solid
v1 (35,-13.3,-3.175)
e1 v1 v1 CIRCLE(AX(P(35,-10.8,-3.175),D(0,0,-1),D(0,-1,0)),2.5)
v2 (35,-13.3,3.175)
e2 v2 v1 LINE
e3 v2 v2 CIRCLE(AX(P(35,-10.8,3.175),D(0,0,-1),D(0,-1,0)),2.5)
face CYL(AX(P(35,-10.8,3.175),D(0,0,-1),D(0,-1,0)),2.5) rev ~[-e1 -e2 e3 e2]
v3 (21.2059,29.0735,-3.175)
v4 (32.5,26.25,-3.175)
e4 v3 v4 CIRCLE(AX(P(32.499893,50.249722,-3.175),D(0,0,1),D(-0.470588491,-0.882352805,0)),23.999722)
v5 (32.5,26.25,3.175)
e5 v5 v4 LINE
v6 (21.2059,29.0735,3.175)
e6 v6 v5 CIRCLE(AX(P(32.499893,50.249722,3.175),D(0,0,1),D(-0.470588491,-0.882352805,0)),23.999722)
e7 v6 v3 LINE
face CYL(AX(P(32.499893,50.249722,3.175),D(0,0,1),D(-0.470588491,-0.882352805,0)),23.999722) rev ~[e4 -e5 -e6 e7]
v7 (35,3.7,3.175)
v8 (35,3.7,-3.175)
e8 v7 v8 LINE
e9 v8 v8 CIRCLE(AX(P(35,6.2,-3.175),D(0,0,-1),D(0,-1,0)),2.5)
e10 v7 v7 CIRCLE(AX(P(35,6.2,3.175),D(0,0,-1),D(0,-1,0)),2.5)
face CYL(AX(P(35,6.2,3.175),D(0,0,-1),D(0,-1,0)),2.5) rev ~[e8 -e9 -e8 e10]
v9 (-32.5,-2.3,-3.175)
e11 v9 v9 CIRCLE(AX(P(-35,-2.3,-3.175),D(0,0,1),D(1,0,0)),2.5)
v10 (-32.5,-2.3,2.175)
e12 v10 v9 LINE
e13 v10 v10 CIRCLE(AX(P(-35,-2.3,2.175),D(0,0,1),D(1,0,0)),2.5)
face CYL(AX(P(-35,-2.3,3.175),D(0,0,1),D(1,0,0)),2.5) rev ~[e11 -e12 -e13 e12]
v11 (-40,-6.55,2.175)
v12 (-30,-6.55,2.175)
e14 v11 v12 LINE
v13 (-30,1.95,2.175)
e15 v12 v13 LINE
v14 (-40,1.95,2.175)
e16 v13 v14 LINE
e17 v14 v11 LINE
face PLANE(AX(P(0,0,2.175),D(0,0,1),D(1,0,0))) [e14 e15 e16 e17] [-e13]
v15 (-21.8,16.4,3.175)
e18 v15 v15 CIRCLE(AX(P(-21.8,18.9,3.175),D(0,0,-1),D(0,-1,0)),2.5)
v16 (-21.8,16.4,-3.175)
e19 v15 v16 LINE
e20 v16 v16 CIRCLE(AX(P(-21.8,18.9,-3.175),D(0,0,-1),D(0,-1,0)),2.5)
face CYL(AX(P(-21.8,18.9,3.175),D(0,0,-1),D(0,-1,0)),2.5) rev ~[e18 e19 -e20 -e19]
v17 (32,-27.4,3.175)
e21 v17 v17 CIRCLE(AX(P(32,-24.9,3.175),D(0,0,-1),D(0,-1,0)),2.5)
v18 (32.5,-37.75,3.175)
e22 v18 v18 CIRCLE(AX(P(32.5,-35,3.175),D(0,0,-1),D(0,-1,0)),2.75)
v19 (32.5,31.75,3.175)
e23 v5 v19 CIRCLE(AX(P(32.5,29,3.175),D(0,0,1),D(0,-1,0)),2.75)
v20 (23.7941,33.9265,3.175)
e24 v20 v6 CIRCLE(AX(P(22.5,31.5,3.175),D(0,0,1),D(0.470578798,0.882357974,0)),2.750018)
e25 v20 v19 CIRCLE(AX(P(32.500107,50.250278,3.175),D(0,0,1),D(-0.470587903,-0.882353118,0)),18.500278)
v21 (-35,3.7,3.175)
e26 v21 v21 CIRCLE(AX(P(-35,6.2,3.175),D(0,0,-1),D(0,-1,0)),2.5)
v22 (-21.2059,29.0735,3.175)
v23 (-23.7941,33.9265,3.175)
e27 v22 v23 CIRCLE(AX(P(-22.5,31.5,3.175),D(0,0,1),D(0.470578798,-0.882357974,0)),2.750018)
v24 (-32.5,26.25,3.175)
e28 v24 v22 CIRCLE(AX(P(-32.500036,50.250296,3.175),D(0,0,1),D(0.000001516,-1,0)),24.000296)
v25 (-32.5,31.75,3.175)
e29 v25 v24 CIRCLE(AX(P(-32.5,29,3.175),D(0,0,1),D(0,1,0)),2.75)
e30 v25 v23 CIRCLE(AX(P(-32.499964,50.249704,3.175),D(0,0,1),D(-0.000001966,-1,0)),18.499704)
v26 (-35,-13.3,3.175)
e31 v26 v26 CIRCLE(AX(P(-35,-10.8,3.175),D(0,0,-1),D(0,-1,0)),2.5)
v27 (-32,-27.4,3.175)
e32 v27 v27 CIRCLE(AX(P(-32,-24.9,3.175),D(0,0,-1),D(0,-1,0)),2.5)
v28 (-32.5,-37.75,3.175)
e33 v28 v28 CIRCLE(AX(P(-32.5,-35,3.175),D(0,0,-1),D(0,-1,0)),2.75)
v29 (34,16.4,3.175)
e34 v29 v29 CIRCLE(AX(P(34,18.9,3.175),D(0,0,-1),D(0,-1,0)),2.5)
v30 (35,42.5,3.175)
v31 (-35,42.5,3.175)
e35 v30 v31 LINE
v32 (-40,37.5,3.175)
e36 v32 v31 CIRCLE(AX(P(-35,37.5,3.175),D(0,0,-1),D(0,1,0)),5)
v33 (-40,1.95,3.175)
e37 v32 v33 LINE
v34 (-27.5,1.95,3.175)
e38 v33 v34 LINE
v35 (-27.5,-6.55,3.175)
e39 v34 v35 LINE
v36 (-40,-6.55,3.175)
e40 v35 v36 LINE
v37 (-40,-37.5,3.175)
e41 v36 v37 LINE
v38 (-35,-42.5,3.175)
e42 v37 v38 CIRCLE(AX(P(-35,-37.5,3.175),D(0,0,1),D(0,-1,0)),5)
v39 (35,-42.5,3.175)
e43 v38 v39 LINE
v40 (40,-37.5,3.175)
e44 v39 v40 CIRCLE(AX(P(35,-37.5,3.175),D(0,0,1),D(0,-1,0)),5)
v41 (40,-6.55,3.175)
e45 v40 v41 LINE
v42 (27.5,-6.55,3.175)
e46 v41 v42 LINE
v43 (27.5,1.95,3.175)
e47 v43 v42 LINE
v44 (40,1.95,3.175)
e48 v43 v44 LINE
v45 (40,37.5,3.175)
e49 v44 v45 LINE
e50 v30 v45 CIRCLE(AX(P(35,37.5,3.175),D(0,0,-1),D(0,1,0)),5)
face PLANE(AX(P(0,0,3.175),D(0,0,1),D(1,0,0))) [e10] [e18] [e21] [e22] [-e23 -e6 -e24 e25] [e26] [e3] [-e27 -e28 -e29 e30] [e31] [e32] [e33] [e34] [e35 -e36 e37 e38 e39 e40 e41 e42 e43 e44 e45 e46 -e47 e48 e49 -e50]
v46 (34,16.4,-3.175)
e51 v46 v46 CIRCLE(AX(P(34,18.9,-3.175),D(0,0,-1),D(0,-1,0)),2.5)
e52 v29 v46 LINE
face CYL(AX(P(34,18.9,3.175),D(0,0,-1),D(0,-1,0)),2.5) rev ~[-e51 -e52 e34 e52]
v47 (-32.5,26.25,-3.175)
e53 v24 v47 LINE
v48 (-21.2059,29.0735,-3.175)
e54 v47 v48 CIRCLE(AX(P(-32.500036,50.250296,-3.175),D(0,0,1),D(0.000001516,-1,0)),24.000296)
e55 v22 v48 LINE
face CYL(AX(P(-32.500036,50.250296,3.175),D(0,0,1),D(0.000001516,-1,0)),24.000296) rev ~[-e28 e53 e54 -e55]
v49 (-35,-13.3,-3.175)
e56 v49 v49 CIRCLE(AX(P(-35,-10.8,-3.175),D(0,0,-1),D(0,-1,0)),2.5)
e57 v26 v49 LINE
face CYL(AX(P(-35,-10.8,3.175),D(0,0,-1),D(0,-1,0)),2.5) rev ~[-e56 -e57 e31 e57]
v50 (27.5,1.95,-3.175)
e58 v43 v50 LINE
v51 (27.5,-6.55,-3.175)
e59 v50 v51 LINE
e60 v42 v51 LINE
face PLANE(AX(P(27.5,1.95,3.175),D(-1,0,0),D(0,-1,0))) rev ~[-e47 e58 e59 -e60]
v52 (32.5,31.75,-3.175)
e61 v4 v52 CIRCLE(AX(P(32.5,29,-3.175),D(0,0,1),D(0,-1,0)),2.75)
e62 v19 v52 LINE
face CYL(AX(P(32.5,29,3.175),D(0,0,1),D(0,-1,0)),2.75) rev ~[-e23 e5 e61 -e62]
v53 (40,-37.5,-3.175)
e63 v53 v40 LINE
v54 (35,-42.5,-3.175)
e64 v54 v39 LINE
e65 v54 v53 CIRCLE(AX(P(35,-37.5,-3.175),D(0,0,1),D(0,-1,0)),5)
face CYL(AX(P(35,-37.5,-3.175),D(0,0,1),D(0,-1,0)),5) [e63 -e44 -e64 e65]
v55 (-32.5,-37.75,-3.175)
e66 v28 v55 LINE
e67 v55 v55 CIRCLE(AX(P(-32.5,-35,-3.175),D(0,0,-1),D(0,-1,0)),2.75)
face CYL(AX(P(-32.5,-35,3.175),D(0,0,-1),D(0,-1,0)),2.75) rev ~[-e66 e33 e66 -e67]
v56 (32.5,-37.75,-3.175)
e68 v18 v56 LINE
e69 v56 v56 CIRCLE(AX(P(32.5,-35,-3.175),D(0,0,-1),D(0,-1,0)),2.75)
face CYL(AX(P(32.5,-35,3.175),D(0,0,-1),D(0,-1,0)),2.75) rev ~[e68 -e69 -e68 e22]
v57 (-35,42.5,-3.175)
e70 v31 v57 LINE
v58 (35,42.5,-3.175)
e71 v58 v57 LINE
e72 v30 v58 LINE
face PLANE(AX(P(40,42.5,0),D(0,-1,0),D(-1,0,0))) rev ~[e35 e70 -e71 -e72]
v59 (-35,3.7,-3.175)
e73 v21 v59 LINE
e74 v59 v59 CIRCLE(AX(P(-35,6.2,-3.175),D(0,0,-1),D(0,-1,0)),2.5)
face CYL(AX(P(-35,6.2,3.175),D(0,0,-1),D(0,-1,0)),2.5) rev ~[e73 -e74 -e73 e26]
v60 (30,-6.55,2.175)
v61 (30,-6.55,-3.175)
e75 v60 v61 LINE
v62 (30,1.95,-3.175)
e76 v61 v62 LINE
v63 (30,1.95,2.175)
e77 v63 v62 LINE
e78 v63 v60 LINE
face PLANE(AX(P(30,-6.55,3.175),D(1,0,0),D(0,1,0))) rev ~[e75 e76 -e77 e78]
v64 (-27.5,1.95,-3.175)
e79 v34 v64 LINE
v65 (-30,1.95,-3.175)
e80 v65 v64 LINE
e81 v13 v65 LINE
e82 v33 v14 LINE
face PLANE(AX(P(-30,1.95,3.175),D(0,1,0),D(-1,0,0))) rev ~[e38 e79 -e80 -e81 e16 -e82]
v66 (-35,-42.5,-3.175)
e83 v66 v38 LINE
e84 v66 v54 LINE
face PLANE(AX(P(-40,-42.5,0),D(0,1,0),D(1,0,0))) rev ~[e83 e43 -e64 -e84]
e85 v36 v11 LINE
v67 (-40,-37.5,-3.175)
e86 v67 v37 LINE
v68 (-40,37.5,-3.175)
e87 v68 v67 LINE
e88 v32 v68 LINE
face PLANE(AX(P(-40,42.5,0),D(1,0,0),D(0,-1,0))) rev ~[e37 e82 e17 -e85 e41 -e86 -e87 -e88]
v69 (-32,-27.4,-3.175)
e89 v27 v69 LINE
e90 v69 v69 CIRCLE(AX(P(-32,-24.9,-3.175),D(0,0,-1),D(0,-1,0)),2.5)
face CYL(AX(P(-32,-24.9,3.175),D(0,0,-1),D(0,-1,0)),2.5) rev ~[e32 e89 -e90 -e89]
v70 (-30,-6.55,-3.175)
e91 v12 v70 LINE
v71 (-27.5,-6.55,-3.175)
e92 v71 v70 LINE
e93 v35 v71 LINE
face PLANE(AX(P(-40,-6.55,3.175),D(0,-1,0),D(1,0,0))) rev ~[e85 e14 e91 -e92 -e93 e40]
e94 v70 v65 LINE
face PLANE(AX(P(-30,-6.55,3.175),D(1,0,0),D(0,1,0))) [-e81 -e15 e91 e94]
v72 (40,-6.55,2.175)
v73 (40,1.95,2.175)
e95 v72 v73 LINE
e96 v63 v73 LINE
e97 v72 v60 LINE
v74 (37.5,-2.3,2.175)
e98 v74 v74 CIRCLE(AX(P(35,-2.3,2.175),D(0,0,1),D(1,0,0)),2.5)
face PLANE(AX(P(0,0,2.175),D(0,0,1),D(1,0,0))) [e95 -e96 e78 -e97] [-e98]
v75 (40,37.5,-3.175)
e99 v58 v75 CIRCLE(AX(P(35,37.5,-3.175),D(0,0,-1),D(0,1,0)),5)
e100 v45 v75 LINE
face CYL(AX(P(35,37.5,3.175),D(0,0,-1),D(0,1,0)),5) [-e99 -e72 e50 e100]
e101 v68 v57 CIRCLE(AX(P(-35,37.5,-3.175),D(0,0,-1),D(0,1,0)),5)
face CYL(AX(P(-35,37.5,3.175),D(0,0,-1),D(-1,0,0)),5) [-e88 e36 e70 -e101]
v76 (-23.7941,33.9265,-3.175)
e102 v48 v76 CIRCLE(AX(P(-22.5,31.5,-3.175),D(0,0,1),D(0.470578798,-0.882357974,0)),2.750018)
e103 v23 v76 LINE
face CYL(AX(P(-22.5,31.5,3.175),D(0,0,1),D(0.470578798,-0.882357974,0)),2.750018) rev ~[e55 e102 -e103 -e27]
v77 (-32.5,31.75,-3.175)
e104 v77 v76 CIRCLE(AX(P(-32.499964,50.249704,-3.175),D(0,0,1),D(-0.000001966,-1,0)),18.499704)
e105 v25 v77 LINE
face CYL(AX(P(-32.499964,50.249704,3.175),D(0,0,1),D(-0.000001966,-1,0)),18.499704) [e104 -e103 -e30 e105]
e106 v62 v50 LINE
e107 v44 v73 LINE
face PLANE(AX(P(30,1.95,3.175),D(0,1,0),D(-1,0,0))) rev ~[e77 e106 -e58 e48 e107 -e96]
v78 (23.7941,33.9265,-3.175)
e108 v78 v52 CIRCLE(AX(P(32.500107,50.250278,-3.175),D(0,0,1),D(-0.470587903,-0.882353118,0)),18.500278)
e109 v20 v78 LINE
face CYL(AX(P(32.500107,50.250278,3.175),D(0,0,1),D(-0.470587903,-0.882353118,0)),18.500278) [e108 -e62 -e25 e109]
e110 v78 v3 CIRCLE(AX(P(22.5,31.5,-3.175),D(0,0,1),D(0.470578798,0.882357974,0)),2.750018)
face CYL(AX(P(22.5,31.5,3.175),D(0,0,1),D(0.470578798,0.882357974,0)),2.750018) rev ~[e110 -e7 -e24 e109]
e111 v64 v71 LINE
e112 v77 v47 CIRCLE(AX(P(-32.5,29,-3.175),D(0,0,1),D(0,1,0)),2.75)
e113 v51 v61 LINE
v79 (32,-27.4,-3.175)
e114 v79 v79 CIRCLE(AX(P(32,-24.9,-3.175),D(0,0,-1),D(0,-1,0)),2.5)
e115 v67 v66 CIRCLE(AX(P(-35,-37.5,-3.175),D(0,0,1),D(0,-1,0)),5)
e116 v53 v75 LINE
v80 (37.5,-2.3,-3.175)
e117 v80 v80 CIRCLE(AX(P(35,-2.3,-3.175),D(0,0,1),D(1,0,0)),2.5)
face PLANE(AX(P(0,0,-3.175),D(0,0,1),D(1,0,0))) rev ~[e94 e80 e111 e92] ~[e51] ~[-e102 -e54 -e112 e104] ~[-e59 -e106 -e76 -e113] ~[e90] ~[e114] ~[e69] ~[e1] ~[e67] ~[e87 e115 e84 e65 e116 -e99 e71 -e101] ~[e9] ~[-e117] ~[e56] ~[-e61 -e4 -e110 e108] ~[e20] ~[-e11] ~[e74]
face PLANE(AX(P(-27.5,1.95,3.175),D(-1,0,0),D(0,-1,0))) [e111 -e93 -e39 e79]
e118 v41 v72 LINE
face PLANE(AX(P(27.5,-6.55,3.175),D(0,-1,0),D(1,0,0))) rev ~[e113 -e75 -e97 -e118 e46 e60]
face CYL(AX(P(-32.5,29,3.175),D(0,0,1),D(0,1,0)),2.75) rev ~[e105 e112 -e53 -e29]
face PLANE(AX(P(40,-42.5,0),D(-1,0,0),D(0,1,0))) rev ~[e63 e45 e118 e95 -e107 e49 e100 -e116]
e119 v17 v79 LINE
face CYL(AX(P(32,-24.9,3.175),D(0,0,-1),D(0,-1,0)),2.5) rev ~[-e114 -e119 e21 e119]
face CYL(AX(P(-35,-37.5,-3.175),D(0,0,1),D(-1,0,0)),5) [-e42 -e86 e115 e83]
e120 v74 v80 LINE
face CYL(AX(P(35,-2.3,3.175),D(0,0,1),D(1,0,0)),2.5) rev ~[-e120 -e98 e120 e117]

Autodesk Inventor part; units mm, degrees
ref_plane "YZ Plane" through (0, 0, 0) normal (1, 0, 0) x (0, 1, 0)
ref_plane "XZ Plane" through (0, 0, 0) normal (0, 1, 0) x (-1, 0, 0)
ref_plane "XY Plane" through (0, 0, 0) normal (0, 0, 1) x (1, 0, 0)
sketch "Sketch1" plane through (0, 0, 0) normal (0, 0, 1) x (1, 0, 0)
  line L0 (-40, -42.5) -> (40, -42.5)
  line L1 (40, -42.5) -> (40, 42.5)
  line L2 (40, 42.5) -> (-40, 42.5)
  line L3 (-40, 42.5) -> (-40, -42.5)
  line L4 (-40, -42.5) -> (40, 42.5) construction
  line L5 (40, -42.5) -> (-40, 42.5) construction
  line L6 (-28.7479, 32.175) -> (28.7479, 32.175) construction
  line L7 (28.7479, 32.175) -> (28.7479, -32.175) construction
  line L8 (28.7479, -32.175) -> (-28.7479, -32.175) construction
  line L9 (-28.7479, -32.175) -> (-28.7479, 32.175) construction
  line L10 (-28.7479, 32.175) -> (28.7479, -32.175) construction
  line L11 (28.7479, 32.175) -> (-28.7479, -32.175) construction
  circle A0 centre (28.7479, -32.175) radius 2.5 construction
  circle A1 centre (-28.7479, -32.175) radius 2.5 construction
  arc A2 (-28.7479, 32.175) -> (-13.7479, 34.175) centre (-28.7479, 89.425) ccw construction
  arc A3 (-28.7479, 29.675) -> (-13.0929, 31.7623) centre (-28.7479, 89.425) ccw construction
  arc A4 (-28.7479, 34.675) -> (-14.403, 36.5877) centre (-28.7479, 89.425) ccw construction
  arc A5 (-28.7479, 34.675) -> (-28.7479, 29.675) centre (-28.7479, 32.175) ccw construction
  arc A6 (-13.0929, 31.7623) -> (-14.403, 36.5877) centre (-13.7479, 34.175) ccw construction
  point P0 (0, 0)
  dimension "d0" = 80
  dimension "d1" = 64.35
  dimension "d2" = 5
  dimension "d3" = 5
  dimension "d4" = 5
  dimension "d5" = 2
  dimension "d6" = 15
  dimension "d7" = 85
extrude "Extrusion1" add sketch "Sketch1" along normal mid plane 6.35
sketch "Sketch2" plane through (0, 0, 3.175) normal (0, 0, 1) x (1, 0, 0)
  line L0 (-40, -42.5) -> (40, -42.5) projected
  line L1 (-40, 42.5) -> (-40, -42.5) projected
  line L2 (40, -42.5) -> (40, 42.5) projected
  point P0 (0, 0)
  point P1 (-32.5, -35)
  point P2 (32.5, -35)
  dimension "d11" = 7.5
  dimension "d12" = 7.5
  dimension "d13" = 7.5
hole "Hole1" at (-32.5, -35, 3.175) at (32.5, -35, 3.175) direction (0, 0, -1) diameter 5.5 end through all clearance for "Flat Head Machine Screw" size "M5" standard "Ansi Metric M Profile"
sketch "Sketch3" plane through (0, 0, 3.175) normal (0, 0, 1) x (1, 0, 0)
  circle A0 centre (-32.5, -35) radius 2.75 projected
  circle A1 centre (32.5, -35) radius 2.75 projected
  arc A2 (-32.5, 29) -> (-22.5, 31.5) centre (-32.5, 50.25) ccw construction
  arc A3 (-32.5, 26.25) -> (-21.2059, 29.0735) centre (-32.5, 50.25) ccw
  arc A4 (-32.5, 31.75) -> (-23.7941, 33.9265) centre (-32.5, 50.25) ccw
  arc A5 (-32.5, 31.75) -> (-32.5, 26.25) centre (-32.5, 29) ccw
  arc A6 (-21.2059, 29.0735) -> (-23.7941, 33.9265) centre (-22.5, 31.5) ccw
  line L0 (0, 0) -> (0, 8.7533)
  arc A7 (22.5, 31.5) -> (32.5, 29) centre (32.5, 50.25) ccw construction
  arc A8 (21.2059, 29.0735) -> (32.5, 26.25) centre (32.5, 50.25) ccw
  arc A9 (23.7941, 33.9265) -> (32.5, 31.75) centre (32.5, 50.25) ccw
  arc A10 (32.5, 26.25) -> (32.5, 31.75) centre (32.5, 29) ccw
  arc A11 (23.7941, 33.9265) -> (21.2059, 29.0735) centre (22.5, 31.5) ccw
  dimension "d21" = 64
  dimension "d22" = 2.5
  dimension "d23" = 10
  dimension "d24" = 2.75
extrude "Extrusion2" cut sketch "Sketch3" against normal blind 10 contours A5 A4 A6 A3 | A11 A9 A10 A8
fillet "Fillet1" radius 5 4 edges at (-40, 42.5, 0) (-40, -42.5, 0) (40, 42.5, 0) (40, -42.5, 0)
sketch "Sketch5" plane through (0, 0, 3.175) normal (0, 0, 1) x (1, 0, 0)
  line L0 (-35, 1.95) -> (-32.5, 1.95)
  line L1 (-32.5, 1.95) -> (-32.5, -6.55)
  line L2 (-32.5, -6.55) -> (-35, -6.55)
  line L3 (-35, -6.55) -> (-35, 1.95)
  line L4 (-35, 1.95) -> (-32.5, -6.55) construction
  line L5 (-32.5, 1.95) -> (-35, -6.55) construction
  line L6 (-35, -42.5) -> (35, -42.5) projected
  line L7 (-40, 37.5) -> (-40, -37.5) projected
  line L8 (0, 0) -> (0, 7.9941)
  line L9 (35, 1.95) -> (32.5, 1.95)
  line L10 (32.5, 1.95) -> (32.5, -6.55)
  line L11 (32.5, -6.55) -> (35, -6.55)
  line L12 (35, -6.55) -> (35, 1.95)
  line L13 (35, 1.95) -> (32.5, -6.55) construction
  line L14 (32.5, 1.95) -> (35, -6.55) construction
  line L15 (-38, -2.3) -> (-40, -3.4547)
  line L16 (-40, -3.4547) -> (-40, -1.1453)
  line L17 (-40, -1.1453) -> (-38, -2.3)
  line L18 (38, -2.3) -> (40, -3.4547)
  line L19 (40, -3.4547) -> (40, -1.1453)
  line L20 (40, -1.1453) -> (38, -2.3)
  line L21 (-30, 1.95) -> (-27.5, 1.95)
  line L22 (-27.5, 1.95) -> (-27.5, -6.55)
  line L23 (-27.5, -6.55) -> (-30, -6.55)
  line L24 (-30, -6.55) -> (-30, 1.95)
  line L25 (-30, 1.95) -> (-27.5, -6.55) construction
  line L26 (-27.5, 1.95) -> (-30, -6.55) construction
  line L27 (30, 1.95) -> (27.5, 1.95)
  line L28 (27.5, 1.95) -> (27.5, -6.55)
  line L29 (27.5, -6.55) -> (30, -6.55)
  line L30 (30, -6.55) -> (30, 1.95)
  line L31 (30, 1.95) -> (27.5, -6.55) construction
  line L32 (27.5, 1.95) -> (30, -6.55) construction
  line L33 (-22.5, 1.95) -> (-20, 1.95)
  line L34 (-20, 1.95) -> (-20, -6.55)
  line L35 (-20, -6.55) -> (-22.5, -6.55)
  line L36 (-22.5, -6.55) -> (-22.5, 1.95)
  line L37 (-22.5, 1.95) -> (-20, -6.55) construction
  line L38 (-20, 1.95) -> (-22.5, -6.55) construction
  line L39 (20, 1.95) -> (22.5, 1.95)
  line L40 (22.5, 1.95) -> (22.5, -6.55)
  line L41 (22.5, -6.55) -> (20, -6.55)
  line L42 (20, -6.55) -> (20, 1.95)
  line L43 (20, 1.95) -> (22.5, -6.55) construction
  line L44 (22.5, 1.95) -> (20, -6.55) construction
  point P0 (-33.75, -2.3)
  point P1 (33.75, -2.3)
  point P2 (-39.3333, -2.3)
  point P3 (-33.75, -2.3)
  point P4 (39.3333, -2.3)
  point P5 (-40, -1.1453)
  point P6 (-28.75, -2.3)
  point P7 (-28.75, -2.3)
  point P8 (-33.75, -2.3)
  point P9 (28.75, -2.3)
  point P10 (28.75, -2.3)
  point P11 (-21.25, -2.3)
  point P12 (21.25, -2.3)
  dimension "d40" = 2.5
  dimension "d41" = 8.5
  dimension "d42" = 40.2
  dimension "d46" = 2
  dimension "d51" = 5
  dimension "d52" = 5
  dimension "d53" = 5
  dimension "d69" = 10
extrude "Extrusion3" cut sketch "Sketch5" against normal blind 10 contours L21 L22 L23 L24 | L30 L29 L28 L27
sketch "Sketch7" plane through (0, 0, 3.175) normal (0, 0, 1) x (1, 0, 0)
  line L0 (30, 1.95) -> (30, -6.55) projected
  line L1 (30, -6.55) -> (27.5, -6.55) projected
  line L2 (27.5, -6.55) -> (27.5, 1.95) projected
  line L3 (27.5, 1.95) -> (30, 1.95) projected
  line L4 (-27.5, 1.95) -> (-27.5, -6.55) projected
  line L5 (-27.5, -6.55) -> (-30, -6.55) projected
  line L6 (-30, -6.55) -> (-30, 1.95) projected
  line L7 (-30, 1.95) -> (-27.5, 1.95) projected
  arc A0 (35, -42.5) -> (40, -37.5) centre (35, -37.5) ccw projected
  line L8 (40, -37.5) -> (40, 37.5) projected
  arc A1 (40, 37.5) -> (35, 42.5) centre (35, 37.5) ccw projected
  line L9 (35, 42.5) -> (-35, 42.5) projected
  arc A2 (-35, 42.5) -> (-40, 37.5) centre (-35, 37.5) ccw projected
  line L10 (-40, 37.5) -> (-40, -37.5) projected
  arc A3 (-40, -37.5) -> (-35, -42.5) centre (-35, -37.5) ccw projected
  line L11 (-35, -42.5) -> (35, -42.5) projected
  arc A4 (23.7941, 33.9265) -> (32.5, 31.75) centre (32.5, 50.25) ccw projected
  arc A5 (32.5, 26.25) -> (32.5, 31.75) centre (32.5, 29) ccw projected
  arc A6 (21.2059, 29.0735) -> (32.5, 26.25) centre (32.5, 50.25) ccw projected
  arc A7 (23.7941, 33.9265) -> (21.2059, 29.0735) centre (22.5, 31.5) ccw projected
  arc A8 (-32.5, 26.25) -> (-21.2059, 29.0735) centre (-32.5, 50.25) ccw projected
  arc A9 (-32.5, 31.75) -> (-32.5, 26.25) centre (-32.5, 29) ccw projected
  arc A10 (-32.5, 31.75) -> (-23.7941, 33.9265) centre (-32.5, 50.25) ccw projected
  arc A11 (-21.2059, 29.0735) -> (-23.7941, 33.9265) centre (-22.5, 31.5) ccw projected
  circle A12 centre (-32.5, -35) radius 2.75 projected
  circle A13 centre (32.5, -35) radius 2.75 projected
  line L12 (-30, 1.95) -> (-27.5, 1.95) projected
  line L13 (-30, 1.95) -> (-40, 1.95)
  line L14 (-40, 1.95) -> (-40, -6.55)
  line L15 (-40, -6.55) -> (-30, -6.55)
  line L16 (-30, -6.55) -> (-30, 1.95)
  line L17 (30, -6.55) -> (30, 1.95) projected
  line L18 (30, 1.95) -> (40, 1.95)
  line L19 (40, 1.95) -> (40, -6.55)
  line L20 (40, -6.55) -> (30, -6.55)
  line L21 (30, -6.55) -> (30, 1.95)
  point P0 (0, 0)
extrude "Extrusion5" cut sketch "Sketch7" against normal blind 1 contours L18 L8 L20 L0 | L13 L6 L15 L10
sketch "Sketch8" plane through (0, 0, 3.175) normal (0, 0, 1) x (1, 0, 0)
  line L0 (-40, 1.95) -> (-30, 1.95) projected
  line L1 (-40, -6.55) -> (-40, 1.95) projected
  line L2 (-30, -6.55) -> (-40, -6.55) projected
  line L3 (-30, 1.95) -> (-30, -6.55) projected
  line L4 (30, 1.95) -> (40, 1.95) projected
  line L5 (30, -6.55) -> (30, 1.95) projected
  line L6 (40, -6.55) -> (30, -6.55) projected
  line L7 (40, 1.95) -> (40, -6.55) projected
  circle A0 centre (-35, -2.3) radius 2.5
  circle A1 centre (35, -2.3) radius 2.5
  point P0 (0, 0)
  point P1 (-35, 1.95)
  point P2 (-30, -2.3)
  point P3 (30, -2.3)
  point P4 (35, 1.95)
  dimension "d56" = 5
  dimension "d57" = 5
extrude "Extrusion6" cut sketch "Sketch8" against normal blind 10 contours A0 | A1
sketch "Sketch9" plane through (0, 0, 3.175) normal (0, 0, 1) x (1, 0, 0)
  circle A0 centre (32.5, -35) radius 2.75 projected
  circle A1 centre (-32.5, -35) radius 2.75 projected
  arc A2 (-32.5, 26.25) -> (-21.2059, 29.0735) centre (-32.5, 50.25) ccw projected
  arc A3 (-32.5, 31.75) -> (-32.5, 26.25) centre (-32.5, 29) ccw projected
  arc A4 (-32.5, 31.75) -> (-23.7941, 33.9265) centre (-32.5, 50.25) ccw projected
  arc A5 (-21.2059, 29.0735) -> (-23.7941, 33.9265) centre (-22.5, 31.5) ccw projected
  arc A6 (23.7941, 33.9265) -> (32.5, 31.75) centre (32.5, 50.25) ccw projected
  arc A7 (32.5, 26.25) -> (32.5, 31.75) centre (32.5, 29) ccw projected
  arc A8 (21.2059, 29.0735) -> (32.5, 26.25) centre (32.5, 50.25) ccw projected
  arc A9 (23.7941, 33.9265) -> (21.2059, 29.0735) centre (22.5, 31.5) ccw projected
  line L0 (27.5, 1.95) -> (40, 1.95) projected
  line L1 (40, 1.95) -> (40, 37.5) projected
  arc A10 (40, 37.5) -> (35, 42.5) centre (35, 37.5) ccw projected
  line L2 (35, 42.5) -> (-35, 42.5) projected
  arc A11 (-35, 42.5) -> (-40, 37.5) centre (-35, 37.5) ccw projected
  line L3 (-40, 37.5) -> (-40, 1.95) projected
  line L4 (-40, 1.95) -> (-27.5, 1.95) projected
  line L5 (-27.5, 1.95) -> (-27.5, -6.55) projected
  line L6 (-27.5, -6.55) -> (-40, -6.55) projected
  line L7 (-40, -6.55) -> (-40, -37.5) projected
  arc A12 (-40, -37.5) -> (-35, -42.5) centre (-35, -37.5) ccw projected
  line L8 (-35, -42.5) -> (35, -42.5) projected
  arc A13 (35, -42.5) -> (40, -37.5) centre (35, -37.5) ccw projected
  line L9 (40, -37.5) -> (40, -6.55) projected
  line L10 (40, -6.55) -> (27.5, -6.55) projected
  line L11 (27.5, -6.55) -> (27.5, 1.95) projected
  circle A14 centre (-35, -2.3) radius 2.5 projected
  circle A15 centre (35, -2.3) radius 2.5 projected
  point P0 (0, 0)
  point P1 (-35, 6.2)
  point P2 (-35, -10.8)
  point P3 (35, -10.8)
  point P4 (35, 6.2)
  dimension "d60" = 17
  dimension "d61" = 8.5
hole "Hole3" at (-35, 6.2, 3.175) at (-35, -10.8, 3.175) at (35, -10.8, 3.175) at (35, 6.2, 3.175) direction (0, 0, -1) diameter 5 depth 28.25 tip angle 118
sketch "Sketch10" plane through (0, 0, 3.175) normal (0, 0, 1) x (1, 0, 0)
  line L0 (-20, 20) -> (20, 20) construction
  line L1 (20, 20) -> (20, -20) construction
  line L2 (20, -20) -> (-20, -20) construction
  line L3 (-20, -20) -> (-20, 20) construction
  line L4 (-20, 20) -> (20, -20) construction
  line L5 (20, 20) -> (-20, -20) construction
  line L6 (-10, 31.25) -> (10, 31.25) construction
  line L7 (35, 42.5) -> (-35, 42.5) construction
  line L8 (-10, -31.25) -> (10, -31.25) construction
  line L9 (-32, 18.9) -> (32, 18.9) construction
  line L10 (32, 18.9) -> (32, -24.9) construction
  line L11 (32, -24.9) -> (-32, -24.9) construction
  line L12 (-32, -24.9) -> (-32, 18.9) construction
  line L13 (-32, 18.9) -> (32, -24.9) construction
  line L14 (32, 18.9) -> (-32, -24.9) construction
  point P0 (0, 0)
  point P1 (0, 31.25)
  point P2 (0, 0)
  point P3 (0, -31.25)
  point P4 (0, 0)
  point P5 (0, -3)
  point P6 (0, -3)
  point P7 (34, 18.9)
  point P8 (-21.8, 18.9)
  dimension "d70" = 40
  dimension "d71" = 40
  dimension "d72" = 20
  dimension "d73" = 11.25
  dimension "d74" = 11.25
  dimension "d75" = 11.25
  dimension "d83" = 64
  dimension "d84" = 43.8
  dimension "d85" = 24.9
  dimension "d86" = 2
  dimension "d87" = 10.2
hole "Hole4" at (-21.8, 18.9, 3.175) at (34, 18.9, 3.175) at (32, -24.9, 3.175) at (-32, -24.9, 3.175) direction (0, 0, -1) diameter 5 end through all
sketch "Sketch11" plane through (0, 0, 3.175) normal (0, 0, 1) x (1, 0, 0)
  line L0 (-29.6544, 25.4909) -> (-13.6801, 25.4909)
  line L1 (-13.6801, 25.4909) -> (-13.6801, 10.7062)
  line L2 (-13.6801, 10.7062) -> (-29.6544, 10.7062)
  line L3 (-29.6544, 10.7062) -> (-29.6544, 25.4909)
  point P0 (0, 0)
extrude "Extrusion7" [suppressed]
equation "\"d52\" = d51"
equation "\"d53\" = d52"
equation "\"d61\" = 0.5 * d60"
equation "\"d74\" = d73"
equation "\"d75\" = d73"
properties part number "x carraige plate new" material "PMMA Plastic"
